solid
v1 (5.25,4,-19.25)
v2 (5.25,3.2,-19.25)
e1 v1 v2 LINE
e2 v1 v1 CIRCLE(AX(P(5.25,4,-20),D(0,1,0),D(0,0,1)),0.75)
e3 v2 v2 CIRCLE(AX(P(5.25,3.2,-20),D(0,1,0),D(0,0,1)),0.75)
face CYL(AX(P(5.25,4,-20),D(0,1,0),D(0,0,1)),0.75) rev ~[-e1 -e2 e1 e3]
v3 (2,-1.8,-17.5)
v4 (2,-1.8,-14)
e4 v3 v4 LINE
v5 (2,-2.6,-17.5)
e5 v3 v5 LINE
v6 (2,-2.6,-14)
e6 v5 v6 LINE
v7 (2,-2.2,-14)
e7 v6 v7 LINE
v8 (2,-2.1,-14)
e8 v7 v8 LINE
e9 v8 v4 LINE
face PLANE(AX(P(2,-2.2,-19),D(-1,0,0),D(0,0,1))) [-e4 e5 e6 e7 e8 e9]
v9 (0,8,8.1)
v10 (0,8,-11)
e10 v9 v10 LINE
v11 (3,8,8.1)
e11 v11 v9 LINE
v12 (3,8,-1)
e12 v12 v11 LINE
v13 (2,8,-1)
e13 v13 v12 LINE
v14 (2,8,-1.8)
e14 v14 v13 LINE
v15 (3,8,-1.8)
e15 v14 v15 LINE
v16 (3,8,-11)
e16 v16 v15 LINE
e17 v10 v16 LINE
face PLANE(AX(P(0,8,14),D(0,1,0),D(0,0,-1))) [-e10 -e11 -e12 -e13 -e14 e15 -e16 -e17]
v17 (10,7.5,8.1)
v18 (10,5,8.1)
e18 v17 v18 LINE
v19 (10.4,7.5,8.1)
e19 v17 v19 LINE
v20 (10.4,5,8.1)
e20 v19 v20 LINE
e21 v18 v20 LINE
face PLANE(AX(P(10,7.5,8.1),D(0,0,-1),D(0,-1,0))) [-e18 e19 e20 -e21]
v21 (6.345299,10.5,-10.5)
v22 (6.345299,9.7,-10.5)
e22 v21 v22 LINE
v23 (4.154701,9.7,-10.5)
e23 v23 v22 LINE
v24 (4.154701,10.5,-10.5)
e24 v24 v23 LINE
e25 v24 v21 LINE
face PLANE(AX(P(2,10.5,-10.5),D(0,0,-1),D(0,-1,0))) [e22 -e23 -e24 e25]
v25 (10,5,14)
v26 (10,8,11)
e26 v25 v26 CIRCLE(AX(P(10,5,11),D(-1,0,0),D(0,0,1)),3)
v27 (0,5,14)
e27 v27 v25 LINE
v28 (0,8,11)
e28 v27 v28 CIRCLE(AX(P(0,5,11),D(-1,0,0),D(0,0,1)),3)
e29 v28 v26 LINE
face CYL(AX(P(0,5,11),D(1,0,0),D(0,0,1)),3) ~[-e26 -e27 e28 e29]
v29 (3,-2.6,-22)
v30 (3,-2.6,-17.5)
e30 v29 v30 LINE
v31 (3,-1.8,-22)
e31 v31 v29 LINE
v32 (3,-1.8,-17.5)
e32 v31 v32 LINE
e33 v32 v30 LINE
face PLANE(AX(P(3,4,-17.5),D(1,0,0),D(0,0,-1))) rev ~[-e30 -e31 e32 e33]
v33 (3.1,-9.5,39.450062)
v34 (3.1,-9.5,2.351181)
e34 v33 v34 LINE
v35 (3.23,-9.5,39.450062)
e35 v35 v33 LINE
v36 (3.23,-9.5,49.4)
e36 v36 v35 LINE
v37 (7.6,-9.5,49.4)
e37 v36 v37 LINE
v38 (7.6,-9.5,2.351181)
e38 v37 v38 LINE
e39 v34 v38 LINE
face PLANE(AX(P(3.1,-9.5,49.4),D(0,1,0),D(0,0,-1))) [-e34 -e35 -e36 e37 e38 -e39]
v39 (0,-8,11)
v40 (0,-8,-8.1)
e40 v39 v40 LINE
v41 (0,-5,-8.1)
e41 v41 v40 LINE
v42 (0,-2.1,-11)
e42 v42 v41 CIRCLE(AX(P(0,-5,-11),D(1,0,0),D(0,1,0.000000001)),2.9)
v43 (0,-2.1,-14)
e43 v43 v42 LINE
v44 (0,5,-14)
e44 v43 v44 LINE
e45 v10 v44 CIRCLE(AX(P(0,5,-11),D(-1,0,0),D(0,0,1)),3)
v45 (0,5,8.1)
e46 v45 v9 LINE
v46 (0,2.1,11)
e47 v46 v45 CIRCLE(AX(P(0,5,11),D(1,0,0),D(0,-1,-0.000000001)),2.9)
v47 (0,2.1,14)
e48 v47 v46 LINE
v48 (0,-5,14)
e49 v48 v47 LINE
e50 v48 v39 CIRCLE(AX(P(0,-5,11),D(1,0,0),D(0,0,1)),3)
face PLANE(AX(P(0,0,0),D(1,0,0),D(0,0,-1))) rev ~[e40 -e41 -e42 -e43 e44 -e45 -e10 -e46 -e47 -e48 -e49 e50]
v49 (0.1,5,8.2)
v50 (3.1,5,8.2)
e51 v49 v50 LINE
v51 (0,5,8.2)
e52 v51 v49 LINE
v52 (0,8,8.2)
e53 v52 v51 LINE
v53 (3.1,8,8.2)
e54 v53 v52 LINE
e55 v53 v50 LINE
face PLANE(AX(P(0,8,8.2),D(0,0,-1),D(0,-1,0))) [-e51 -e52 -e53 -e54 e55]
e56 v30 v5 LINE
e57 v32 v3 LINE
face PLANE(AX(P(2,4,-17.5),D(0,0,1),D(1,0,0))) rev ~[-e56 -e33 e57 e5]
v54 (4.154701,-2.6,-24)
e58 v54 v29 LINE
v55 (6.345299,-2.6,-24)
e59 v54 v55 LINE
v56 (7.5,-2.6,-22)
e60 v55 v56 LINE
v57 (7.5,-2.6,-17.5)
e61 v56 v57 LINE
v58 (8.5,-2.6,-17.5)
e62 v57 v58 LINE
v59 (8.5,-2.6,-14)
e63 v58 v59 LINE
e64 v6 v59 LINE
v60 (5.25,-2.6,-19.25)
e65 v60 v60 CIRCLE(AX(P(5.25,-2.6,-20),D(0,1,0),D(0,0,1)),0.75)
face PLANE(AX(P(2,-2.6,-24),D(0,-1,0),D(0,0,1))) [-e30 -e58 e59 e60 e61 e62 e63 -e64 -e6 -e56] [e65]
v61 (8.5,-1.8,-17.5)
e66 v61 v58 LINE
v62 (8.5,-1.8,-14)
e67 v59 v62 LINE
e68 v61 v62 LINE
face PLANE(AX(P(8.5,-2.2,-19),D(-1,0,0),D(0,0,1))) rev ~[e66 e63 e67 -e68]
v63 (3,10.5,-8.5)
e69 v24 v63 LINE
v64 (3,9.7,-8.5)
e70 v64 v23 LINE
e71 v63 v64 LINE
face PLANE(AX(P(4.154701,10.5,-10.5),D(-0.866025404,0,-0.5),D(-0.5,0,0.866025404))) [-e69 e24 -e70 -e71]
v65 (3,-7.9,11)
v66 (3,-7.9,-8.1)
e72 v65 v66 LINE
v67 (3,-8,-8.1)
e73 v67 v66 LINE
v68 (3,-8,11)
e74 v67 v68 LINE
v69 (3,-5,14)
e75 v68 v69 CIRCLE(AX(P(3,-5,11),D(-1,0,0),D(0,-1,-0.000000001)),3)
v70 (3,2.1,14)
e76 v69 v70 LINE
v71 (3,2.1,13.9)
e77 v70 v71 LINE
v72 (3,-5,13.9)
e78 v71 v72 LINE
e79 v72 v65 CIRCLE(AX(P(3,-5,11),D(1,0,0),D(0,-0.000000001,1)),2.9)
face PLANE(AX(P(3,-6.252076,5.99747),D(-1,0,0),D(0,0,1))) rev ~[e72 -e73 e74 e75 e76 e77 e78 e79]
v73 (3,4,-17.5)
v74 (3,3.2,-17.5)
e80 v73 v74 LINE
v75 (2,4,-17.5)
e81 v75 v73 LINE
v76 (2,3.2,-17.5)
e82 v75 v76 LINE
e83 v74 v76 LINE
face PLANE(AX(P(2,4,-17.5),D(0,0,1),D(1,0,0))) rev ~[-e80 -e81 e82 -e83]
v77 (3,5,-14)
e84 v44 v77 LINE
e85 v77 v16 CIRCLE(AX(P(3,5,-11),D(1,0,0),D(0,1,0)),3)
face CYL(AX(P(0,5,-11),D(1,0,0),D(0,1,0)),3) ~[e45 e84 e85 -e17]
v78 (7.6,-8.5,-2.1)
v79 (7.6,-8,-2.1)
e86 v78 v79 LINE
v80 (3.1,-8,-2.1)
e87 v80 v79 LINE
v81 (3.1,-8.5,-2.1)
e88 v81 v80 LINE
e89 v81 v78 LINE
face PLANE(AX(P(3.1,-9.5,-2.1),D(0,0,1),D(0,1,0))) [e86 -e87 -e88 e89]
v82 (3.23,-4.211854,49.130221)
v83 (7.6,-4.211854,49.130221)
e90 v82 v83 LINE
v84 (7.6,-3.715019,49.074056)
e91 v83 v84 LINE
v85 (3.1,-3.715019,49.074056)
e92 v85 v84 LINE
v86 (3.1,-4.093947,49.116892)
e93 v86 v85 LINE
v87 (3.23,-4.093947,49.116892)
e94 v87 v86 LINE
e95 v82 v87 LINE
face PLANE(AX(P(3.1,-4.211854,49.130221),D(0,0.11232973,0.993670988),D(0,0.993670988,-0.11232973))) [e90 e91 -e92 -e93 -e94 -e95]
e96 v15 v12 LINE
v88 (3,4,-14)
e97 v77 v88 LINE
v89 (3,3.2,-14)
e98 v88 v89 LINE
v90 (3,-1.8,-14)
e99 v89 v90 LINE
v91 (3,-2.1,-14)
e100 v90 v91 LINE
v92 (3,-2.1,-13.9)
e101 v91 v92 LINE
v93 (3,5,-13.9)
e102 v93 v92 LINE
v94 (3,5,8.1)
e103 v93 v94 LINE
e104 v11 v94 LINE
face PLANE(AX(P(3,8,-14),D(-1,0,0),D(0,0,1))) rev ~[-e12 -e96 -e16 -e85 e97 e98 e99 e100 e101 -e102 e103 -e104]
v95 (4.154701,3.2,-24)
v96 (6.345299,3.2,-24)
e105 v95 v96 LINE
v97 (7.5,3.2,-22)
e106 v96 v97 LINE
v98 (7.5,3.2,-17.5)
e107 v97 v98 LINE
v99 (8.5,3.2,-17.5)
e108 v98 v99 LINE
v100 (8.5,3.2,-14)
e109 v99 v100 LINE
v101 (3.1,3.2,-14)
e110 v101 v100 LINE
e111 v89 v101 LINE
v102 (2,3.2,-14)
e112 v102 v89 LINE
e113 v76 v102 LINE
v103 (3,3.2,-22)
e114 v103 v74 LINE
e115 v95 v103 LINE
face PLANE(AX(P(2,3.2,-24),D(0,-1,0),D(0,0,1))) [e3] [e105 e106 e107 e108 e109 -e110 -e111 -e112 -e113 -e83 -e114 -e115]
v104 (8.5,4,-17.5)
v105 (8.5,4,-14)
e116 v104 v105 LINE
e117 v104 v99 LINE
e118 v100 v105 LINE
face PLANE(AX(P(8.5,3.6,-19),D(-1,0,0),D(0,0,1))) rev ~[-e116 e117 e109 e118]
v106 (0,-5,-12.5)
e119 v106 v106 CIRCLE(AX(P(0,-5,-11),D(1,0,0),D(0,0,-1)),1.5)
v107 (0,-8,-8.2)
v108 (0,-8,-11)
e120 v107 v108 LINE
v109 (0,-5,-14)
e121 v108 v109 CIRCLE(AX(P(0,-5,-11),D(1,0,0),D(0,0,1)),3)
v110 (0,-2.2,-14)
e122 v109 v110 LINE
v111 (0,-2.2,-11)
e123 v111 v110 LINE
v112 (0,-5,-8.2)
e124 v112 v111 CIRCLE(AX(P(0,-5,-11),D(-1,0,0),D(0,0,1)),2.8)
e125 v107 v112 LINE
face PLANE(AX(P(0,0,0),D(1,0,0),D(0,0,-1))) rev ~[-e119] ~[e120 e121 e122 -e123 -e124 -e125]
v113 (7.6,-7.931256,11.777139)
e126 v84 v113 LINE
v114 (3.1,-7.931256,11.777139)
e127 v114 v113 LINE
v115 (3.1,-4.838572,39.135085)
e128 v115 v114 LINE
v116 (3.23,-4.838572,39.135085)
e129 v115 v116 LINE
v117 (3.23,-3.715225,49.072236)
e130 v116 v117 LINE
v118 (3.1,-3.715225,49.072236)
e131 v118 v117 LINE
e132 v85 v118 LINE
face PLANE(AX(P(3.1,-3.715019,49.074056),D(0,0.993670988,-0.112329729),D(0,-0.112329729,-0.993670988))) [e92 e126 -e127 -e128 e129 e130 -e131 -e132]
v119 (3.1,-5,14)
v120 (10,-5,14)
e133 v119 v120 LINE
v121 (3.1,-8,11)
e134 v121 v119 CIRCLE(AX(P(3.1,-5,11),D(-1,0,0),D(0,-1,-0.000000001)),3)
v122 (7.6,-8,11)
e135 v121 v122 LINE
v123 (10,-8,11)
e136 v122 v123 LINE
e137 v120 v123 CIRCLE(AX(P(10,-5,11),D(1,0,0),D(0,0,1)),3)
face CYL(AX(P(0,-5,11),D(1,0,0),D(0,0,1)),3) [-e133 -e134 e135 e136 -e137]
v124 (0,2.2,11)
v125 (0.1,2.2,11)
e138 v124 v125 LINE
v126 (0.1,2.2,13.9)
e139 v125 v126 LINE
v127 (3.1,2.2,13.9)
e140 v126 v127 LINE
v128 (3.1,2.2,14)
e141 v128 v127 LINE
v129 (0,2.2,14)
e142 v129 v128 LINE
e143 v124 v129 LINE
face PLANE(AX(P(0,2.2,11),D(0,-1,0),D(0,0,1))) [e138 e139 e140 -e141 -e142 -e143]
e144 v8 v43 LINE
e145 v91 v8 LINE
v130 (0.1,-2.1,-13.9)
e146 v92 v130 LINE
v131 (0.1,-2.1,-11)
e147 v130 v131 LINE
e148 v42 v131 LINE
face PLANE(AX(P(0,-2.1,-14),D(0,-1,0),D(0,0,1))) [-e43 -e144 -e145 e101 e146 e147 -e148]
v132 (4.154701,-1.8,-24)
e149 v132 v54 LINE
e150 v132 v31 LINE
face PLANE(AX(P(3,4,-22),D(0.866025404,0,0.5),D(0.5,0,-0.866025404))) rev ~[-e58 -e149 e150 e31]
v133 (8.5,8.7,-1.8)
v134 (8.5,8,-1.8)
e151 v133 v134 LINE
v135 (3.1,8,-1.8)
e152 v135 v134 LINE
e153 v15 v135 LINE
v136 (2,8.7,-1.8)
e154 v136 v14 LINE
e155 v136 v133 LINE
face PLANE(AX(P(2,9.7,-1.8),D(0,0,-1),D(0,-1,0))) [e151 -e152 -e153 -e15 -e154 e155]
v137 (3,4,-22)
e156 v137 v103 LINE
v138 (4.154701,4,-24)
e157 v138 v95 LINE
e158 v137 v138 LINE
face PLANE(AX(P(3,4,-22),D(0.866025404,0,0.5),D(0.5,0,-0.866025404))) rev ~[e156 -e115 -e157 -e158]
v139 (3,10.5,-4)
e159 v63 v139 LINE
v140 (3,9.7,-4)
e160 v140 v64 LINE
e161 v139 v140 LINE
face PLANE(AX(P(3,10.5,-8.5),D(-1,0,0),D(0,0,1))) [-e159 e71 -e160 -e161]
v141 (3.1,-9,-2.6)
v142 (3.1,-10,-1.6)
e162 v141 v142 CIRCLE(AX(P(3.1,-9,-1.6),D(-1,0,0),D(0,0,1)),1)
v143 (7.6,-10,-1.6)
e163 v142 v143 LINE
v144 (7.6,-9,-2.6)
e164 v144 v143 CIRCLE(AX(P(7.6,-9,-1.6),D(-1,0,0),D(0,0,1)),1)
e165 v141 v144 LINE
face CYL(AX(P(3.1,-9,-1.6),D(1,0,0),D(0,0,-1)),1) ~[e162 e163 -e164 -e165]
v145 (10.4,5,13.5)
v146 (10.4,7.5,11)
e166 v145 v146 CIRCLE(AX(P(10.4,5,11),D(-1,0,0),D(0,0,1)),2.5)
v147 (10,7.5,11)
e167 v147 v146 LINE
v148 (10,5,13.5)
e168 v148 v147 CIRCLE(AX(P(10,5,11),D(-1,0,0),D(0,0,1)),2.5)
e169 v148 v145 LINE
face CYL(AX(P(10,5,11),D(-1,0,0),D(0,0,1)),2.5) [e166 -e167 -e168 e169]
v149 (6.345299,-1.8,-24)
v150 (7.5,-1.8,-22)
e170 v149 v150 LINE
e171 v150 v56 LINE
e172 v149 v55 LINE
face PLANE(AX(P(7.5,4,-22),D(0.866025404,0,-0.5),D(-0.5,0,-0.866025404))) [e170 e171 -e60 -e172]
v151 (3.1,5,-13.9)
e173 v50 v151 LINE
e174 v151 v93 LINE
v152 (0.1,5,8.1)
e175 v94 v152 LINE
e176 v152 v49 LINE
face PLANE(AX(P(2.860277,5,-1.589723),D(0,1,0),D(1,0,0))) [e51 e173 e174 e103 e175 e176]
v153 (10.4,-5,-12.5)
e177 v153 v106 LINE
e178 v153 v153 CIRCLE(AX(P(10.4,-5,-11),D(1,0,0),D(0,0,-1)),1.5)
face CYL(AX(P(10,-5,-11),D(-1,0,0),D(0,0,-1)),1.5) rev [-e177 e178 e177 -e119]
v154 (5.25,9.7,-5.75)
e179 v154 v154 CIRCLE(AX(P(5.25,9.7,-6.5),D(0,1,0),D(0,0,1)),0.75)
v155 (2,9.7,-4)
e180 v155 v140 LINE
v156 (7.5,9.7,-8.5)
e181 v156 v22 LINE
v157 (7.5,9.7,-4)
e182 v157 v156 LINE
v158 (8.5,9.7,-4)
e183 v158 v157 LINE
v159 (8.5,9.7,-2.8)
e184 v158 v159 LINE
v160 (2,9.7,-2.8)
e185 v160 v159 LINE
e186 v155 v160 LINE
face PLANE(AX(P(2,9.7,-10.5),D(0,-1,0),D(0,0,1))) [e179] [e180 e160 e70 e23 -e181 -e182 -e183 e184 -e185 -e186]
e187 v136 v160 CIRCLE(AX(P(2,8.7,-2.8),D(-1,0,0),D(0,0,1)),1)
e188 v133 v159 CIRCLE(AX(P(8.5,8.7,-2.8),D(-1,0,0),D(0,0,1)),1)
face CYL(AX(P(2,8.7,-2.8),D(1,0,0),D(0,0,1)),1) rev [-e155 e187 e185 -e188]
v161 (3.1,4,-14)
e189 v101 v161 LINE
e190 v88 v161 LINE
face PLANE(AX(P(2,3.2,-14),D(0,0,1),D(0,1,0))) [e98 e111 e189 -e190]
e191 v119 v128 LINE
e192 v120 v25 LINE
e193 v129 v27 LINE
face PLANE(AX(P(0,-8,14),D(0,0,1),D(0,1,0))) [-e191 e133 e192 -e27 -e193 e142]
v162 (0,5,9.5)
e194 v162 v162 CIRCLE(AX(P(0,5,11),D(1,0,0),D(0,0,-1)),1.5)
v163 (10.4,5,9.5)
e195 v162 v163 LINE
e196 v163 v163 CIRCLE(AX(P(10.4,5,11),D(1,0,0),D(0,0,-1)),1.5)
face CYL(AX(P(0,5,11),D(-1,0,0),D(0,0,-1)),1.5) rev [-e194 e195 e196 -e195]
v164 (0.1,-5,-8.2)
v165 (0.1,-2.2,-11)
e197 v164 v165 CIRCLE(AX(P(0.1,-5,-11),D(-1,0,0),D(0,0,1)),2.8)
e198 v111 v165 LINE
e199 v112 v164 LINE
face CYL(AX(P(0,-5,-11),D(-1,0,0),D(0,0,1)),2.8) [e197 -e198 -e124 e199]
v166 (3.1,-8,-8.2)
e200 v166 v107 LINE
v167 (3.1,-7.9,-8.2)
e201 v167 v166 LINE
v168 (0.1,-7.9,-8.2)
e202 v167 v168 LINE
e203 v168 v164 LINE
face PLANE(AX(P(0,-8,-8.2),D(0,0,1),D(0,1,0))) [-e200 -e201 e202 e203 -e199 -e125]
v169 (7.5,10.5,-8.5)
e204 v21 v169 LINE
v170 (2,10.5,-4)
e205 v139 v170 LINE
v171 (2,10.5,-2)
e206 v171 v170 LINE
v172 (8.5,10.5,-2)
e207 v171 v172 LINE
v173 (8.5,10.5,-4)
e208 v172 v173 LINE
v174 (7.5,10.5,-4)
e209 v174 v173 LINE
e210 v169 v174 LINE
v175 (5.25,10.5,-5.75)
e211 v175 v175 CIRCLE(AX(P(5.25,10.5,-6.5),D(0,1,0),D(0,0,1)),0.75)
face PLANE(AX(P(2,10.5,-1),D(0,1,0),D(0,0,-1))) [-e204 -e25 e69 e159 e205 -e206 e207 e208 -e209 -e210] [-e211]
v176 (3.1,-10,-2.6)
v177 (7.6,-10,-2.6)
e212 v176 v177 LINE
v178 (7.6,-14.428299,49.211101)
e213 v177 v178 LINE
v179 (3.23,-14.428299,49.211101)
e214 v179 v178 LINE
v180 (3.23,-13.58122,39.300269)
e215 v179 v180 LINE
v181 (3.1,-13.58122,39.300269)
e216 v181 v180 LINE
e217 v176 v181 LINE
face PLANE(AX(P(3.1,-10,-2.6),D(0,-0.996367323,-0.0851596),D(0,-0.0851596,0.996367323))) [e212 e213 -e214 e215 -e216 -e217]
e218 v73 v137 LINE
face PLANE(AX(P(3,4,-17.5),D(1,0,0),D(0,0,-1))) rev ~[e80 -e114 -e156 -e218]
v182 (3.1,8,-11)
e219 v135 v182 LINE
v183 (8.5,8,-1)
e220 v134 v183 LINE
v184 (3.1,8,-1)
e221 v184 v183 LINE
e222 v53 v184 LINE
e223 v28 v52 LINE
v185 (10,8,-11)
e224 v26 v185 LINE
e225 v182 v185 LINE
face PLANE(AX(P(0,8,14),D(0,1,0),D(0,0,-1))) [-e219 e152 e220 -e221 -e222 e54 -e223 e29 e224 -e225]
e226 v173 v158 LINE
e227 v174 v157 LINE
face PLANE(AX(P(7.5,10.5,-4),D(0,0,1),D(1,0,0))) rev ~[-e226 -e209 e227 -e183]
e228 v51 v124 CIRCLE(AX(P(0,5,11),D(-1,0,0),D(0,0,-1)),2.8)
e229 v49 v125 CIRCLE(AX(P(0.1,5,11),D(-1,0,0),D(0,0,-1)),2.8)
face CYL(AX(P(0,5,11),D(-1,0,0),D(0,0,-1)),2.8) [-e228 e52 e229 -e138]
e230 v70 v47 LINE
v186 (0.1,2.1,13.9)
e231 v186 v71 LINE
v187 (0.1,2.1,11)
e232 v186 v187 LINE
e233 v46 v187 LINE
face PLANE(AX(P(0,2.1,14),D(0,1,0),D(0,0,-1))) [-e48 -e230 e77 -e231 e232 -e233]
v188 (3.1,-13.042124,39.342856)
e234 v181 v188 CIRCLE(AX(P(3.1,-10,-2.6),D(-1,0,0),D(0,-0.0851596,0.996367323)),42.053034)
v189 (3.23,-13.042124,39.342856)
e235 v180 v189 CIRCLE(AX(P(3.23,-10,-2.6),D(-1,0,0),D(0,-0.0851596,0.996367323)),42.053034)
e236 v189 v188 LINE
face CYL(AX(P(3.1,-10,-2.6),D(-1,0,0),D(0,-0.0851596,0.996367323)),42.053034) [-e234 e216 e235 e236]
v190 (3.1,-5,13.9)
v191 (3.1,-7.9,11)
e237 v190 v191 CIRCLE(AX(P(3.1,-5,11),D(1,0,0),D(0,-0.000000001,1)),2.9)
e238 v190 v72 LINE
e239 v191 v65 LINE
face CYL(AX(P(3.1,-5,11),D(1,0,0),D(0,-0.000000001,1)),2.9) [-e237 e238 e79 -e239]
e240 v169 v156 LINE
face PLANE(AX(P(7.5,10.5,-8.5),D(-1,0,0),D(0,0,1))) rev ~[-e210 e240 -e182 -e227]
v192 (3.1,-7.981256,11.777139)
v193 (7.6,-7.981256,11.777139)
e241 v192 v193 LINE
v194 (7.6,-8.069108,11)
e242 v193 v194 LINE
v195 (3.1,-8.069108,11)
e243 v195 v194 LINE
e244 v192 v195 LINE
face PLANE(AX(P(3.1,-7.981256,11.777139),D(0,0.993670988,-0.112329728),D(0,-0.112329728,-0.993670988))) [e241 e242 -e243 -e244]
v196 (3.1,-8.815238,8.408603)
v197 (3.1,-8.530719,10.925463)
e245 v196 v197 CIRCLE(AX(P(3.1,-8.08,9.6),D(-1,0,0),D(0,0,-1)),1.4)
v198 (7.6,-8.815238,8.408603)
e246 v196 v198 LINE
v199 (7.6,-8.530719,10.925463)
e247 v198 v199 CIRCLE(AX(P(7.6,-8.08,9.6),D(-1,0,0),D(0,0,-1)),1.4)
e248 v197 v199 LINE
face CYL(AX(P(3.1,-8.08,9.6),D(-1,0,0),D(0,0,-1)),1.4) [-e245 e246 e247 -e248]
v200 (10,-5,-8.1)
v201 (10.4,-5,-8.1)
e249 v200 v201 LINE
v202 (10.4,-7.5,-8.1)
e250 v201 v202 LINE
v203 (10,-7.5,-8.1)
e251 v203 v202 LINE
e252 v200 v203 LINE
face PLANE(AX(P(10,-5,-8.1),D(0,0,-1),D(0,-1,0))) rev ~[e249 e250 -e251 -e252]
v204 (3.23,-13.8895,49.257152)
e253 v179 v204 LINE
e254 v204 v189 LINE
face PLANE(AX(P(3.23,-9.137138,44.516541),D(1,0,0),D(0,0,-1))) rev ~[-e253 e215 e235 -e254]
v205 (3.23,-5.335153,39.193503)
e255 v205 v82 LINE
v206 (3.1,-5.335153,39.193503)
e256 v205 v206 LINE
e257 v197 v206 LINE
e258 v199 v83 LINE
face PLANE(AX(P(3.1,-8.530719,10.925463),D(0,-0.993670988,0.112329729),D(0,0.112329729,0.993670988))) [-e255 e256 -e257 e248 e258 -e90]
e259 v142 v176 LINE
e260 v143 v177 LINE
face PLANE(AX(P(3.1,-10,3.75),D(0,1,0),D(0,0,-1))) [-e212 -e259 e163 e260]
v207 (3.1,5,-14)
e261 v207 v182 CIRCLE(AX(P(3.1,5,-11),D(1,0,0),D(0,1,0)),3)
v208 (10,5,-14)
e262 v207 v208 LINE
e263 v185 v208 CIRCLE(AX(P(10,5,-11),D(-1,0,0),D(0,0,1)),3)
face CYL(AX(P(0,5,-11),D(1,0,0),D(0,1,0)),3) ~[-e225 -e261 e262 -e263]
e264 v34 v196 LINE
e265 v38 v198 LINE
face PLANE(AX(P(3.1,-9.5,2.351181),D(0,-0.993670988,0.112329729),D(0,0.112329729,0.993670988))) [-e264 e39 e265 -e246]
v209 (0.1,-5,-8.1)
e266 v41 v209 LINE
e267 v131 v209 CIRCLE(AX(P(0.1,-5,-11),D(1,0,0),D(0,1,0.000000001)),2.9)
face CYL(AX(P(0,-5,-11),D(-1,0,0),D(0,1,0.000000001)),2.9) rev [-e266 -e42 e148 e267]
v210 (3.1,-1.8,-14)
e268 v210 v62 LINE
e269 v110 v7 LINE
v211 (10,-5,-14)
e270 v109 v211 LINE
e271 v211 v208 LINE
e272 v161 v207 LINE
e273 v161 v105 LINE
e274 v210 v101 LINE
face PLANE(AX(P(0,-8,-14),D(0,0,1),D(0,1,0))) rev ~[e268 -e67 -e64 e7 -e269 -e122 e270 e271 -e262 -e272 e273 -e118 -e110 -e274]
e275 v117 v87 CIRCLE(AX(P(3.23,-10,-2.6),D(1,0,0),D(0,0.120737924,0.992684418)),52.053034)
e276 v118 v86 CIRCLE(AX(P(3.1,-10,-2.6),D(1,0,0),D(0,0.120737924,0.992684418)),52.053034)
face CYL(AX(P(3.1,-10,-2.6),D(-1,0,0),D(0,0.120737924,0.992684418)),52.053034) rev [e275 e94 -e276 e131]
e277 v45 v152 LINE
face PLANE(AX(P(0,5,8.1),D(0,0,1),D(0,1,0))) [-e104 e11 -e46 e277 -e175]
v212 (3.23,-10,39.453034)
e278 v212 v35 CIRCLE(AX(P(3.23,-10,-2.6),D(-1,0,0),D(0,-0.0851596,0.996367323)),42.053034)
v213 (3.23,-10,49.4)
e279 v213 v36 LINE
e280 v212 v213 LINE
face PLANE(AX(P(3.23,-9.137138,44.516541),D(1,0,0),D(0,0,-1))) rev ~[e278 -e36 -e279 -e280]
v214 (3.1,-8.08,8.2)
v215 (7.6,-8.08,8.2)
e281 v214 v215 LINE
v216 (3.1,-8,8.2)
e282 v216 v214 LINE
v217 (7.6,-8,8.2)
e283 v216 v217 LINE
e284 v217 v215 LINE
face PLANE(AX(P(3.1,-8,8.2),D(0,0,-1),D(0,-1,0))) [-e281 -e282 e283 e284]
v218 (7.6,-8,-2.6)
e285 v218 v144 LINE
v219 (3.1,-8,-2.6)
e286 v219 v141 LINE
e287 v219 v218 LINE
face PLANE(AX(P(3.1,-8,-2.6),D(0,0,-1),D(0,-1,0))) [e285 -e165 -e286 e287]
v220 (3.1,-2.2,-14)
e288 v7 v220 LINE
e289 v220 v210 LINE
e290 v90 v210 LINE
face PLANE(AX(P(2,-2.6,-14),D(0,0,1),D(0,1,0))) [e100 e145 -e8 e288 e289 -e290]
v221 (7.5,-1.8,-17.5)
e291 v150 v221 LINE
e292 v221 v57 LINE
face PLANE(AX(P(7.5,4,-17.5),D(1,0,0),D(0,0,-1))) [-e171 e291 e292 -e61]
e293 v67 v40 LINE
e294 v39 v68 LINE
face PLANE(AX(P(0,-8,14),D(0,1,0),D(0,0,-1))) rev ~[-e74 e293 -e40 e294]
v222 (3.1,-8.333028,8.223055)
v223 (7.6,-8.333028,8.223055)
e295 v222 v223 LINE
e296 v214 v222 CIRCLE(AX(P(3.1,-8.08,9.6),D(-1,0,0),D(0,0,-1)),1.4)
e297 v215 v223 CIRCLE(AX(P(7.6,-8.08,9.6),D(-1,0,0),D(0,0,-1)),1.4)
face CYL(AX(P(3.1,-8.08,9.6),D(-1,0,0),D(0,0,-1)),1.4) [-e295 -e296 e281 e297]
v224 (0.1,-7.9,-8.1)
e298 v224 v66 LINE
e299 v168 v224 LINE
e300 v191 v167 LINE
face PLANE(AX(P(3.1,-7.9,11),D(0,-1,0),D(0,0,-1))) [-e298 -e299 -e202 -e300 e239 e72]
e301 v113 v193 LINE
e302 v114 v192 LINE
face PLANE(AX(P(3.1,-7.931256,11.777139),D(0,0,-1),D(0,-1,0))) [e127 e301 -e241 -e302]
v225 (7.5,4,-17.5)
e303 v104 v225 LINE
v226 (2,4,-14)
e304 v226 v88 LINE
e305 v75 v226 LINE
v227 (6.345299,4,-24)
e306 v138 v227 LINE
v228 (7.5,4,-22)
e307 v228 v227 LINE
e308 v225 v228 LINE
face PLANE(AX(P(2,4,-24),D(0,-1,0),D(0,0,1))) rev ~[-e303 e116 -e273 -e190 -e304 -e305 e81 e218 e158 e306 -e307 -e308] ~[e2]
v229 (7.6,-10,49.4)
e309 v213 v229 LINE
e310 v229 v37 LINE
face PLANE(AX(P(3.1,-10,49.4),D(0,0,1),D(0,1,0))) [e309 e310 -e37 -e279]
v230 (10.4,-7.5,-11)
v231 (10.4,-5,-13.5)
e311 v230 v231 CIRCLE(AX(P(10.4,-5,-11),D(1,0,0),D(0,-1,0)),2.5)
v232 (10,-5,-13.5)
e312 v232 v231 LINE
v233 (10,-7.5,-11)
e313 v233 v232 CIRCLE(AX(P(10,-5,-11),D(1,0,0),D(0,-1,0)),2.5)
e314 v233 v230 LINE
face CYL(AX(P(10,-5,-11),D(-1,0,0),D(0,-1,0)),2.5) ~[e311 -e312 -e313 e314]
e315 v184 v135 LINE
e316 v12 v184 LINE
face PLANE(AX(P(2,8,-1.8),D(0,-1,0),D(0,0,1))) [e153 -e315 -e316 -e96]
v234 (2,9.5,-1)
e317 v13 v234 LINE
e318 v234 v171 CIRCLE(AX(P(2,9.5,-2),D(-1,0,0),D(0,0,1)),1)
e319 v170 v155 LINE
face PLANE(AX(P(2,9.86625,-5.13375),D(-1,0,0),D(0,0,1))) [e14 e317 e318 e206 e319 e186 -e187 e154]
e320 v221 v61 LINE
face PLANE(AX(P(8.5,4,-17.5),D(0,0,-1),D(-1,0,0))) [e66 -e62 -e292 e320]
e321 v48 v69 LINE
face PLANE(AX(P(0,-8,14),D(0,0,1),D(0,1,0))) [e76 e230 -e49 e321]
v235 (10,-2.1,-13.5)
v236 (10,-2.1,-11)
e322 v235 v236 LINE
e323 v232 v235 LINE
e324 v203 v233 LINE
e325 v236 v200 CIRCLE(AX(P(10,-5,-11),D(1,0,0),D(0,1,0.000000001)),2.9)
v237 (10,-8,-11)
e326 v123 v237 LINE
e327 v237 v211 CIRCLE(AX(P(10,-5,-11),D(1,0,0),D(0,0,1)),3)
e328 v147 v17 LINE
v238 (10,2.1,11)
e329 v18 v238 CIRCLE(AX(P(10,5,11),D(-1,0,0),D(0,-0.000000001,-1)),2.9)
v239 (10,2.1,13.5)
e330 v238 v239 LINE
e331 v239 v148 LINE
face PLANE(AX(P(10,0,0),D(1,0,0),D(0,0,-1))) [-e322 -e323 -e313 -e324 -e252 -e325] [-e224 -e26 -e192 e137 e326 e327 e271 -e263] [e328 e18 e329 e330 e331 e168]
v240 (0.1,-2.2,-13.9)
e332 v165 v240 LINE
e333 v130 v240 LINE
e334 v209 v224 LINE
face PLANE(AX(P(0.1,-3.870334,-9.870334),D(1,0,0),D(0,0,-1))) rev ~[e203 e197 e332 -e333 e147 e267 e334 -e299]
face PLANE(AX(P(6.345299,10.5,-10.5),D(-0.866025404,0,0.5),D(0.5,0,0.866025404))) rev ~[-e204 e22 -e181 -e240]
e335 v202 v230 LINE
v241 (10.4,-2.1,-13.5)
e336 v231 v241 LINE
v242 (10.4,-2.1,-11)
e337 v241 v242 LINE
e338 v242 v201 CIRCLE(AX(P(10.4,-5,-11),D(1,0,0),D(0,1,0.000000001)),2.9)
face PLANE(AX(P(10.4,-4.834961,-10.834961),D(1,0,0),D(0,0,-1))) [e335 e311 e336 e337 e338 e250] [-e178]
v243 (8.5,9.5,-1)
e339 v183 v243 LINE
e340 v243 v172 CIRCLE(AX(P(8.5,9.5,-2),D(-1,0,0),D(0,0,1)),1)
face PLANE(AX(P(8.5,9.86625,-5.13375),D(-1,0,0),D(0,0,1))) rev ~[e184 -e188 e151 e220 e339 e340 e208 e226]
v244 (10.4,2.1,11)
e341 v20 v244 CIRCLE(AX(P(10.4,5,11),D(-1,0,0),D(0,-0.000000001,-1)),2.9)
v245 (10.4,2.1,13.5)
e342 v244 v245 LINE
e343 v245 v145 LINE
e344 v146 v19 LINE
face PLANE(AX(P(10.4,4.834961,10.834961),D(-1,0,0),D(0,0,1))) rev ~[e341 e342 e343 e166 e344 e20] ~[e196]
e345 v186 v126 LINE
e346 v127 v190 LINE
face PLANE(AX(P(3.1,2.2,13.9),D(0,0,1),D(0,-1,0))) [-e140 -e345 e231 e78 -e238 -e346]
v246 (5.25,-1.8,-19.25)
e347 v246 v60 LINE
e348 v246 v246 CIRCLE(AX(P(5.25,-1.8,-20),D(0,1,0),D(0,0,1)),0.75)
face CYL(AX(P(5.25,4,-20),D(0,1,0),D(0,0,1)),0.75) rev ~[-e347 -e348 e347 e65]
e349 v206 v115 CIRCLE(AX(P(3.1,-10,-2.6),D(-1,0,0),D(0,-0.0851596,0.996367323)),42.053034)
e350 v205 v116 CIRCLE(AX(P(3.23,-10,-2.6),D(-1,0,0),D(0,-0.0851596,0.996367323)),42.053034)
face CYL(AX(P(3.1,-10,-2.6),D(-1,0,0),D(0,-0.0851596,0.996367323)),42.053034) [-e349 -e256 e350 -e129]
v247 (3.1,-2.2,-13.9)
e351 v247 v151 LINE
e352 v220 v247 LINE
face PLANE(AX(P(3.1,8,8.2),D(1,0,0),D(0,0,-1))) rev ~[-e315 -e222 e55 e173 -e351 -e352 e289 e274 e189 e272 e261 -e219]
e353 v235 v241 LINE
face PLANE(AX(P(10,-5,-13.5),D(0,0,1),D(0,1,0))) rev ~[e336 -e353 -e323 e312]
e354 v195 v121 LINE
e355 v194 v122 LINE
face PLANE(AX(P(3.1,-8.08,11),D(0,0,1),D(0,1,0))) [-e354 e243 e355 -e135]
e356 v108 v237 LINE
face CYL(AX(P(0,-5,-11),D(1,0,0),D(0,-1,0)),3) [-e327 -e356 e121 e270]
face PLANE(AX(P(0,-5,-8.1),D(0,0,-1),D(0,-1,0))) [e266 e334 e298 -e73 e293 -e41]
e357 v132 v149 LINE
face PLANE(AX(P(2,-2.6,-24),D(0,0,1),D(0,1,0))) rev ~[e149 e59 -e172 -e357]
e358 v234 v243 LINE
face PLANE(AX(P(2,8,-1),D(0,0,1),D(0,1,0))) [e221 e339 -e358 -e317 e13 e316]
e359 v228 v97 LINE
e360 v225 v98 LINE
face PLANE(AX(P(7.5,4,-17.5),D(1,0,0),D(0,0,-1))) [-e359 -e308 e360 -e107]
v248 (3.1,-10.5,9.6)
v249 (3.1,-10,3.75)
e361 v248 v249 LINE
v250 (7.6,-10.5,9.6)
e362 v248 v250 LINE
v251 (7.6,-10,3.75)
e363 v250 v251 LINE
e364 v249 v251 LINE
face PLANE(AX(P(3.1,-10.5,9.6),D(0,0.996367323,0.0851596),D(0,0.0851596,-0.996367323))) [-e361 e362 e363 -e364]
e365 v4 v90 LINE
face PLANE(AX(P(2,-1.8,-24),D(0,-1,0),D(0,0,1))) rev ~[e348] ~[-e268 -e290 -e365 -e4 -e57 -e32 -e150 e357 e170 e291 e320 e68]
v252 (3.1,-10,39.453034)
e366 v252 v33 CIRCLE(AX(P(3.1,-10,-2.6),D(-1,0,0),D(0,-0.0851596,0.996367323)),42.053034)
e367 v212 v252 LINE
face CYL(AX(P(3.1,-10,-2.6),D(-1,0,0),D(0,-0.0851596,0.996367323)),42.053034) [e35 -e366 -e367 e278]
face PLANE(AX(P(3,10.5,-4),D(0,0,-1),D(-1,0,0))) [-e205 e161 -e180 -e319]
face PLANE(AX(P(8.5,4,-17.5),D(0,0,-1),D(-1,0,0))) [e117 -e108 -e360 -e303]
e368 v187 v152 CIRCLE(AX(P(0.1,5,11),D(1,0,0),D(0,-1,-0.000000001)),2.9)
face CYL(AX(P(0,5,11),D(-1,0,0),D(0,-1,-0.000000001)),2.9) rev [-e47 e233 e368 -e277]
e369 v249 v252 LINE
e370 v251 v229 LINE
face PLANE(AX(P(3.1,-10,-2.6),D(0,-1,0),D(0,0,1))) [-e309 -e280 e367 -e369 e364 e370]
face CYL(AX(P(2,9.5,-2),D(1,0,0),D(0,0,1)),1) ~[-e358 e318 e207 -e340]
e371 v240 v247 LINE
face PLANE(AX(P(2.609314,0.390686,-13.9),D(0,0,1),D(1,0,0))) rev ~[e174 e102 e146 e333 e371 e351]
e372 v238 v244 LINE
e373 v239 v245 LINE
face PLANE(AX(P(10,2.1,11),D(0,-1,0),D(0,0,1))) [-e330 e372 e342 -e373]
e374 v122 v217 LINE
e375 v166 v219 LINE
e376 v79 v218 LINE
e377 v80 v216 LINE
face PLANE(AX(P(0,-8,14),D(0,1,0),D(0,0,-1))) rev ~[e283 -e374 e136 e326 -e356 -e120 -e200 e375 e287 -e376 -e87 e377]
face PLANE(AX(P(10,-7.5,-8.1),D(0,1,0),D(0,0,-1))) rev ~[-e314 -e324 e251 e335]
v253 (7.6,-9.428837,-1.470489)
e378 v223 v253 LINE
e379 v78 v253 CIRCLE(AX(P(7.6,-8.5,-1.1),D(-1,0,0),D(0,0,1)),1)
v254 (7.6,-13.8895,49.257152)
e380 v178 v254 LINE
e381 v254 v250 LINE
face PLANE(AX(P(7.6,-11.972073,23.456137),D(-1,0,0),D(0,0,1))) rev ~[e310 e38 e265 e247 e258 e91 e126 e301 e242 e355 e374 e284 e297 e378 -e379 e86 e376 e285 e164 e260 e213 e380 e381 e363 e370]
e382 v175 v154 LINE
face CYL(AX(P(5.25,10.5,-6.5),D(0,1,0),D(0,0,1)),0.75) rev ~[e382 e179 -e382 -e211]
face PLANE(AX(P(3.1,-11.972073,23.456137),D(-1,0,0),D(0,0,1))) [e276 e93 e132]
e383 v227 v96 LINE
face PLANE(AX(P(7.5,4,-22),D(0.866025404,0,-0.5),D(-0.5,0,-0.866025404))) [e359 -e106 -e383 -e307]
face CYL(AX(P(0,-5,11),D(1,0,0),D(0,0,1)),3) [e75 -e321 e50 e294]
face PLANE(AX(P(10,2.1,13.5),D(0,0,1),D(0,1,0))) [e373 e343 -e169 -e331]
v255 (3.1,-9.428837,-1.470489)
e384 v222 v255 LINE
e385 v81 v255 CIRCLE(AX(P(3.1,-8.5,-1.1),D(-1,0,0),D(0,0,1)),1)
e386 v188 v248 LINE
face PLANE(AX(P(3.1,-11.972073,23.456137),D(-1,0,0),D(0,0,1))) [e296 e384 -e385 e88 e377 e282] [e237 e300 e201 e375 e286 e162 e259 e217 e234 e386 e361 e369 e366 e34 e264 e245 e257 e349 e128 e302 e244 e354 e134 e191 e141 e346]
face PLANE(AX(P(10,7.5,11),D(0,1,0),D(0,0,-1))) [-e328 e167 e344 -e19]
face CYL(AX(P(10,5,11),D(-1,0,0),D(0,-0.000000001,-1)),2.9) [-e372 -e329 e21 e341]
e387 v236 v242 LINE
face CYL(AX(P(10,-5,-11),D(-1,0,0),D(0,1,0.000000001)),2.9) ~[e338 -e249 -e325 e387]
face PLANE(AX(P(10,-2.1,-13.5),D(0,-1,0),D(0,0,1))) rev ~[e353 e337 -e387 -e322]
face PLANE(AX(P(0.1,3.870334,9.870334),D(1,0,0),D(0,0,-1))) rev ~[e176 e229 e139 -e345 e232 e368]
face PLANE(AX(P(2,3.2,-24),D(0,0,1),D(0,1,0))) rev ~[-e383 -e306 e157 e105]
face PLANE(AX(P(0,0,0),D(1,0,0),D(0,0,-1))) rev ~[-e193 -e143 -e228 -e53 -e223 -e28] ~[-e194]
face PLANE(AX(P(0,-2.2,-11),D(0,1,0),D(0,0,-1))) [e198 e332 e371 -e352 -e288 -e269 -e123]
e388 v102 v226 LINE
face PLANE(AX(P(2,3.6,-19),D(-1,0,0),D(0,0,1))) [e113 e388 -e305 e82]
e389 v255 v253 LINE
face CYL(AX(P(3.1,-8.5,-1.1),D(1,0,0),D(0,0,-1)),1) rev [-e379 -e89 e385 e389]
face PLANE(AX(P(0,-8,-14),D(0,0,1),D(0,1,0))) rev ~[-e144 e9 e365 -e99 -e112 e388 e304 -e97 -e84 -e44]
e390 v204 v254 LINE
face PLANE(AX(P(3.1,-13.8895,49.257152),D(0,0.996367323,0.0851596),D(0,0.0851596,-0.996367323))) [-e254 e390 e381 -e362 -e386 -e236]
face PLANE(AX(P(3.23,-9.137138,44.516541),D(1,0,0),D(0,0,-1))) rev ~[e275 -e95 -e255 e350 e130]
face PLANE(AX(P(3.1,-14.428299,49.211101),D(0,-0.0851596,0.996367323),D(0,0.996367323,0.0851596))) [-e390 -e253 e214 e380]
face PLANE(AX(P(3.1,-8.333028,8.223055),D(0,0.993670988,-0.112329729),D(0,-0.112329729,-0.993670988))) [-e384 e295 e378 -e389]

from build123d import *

# Parameters (mm, degrees)
SKETCH_1_W          = 28
SKETCH_1_H          = 16
SKETCH_1_R          = 1.5
EXTRUDE_1_DEPTH     = 10
FILLET_1_R          = 3
SKETCH_2_R          = 1.5
EXTRUDE_2_DEPTH     = 0.4
CUT_EXTRUDE_1_DEPTH = 0.1
CUT_EXTRUDE_2_DEPTH = 3
CUT_EXTRUDE_3_DEPTH = 0.1
CUT_EXTRUDE_4_DEPTH = 0.1
SKETCH_7_W          = 2.9
SKETCH_7_H          = 0.1
CUT_EXTRUDE_5_DEPTH = 0.1
SKETCH_8_W          = 2.9
SKETCH_8_H          = 0.1
CUT_EXTRUDE_6_DEPTH = 0.1
EXTRUDE_3_DEPTH     = 4.5
SKETCH_11_W         = 10
SKETCH_11_H         = 0.8
EXTRUDE_4_DEPTH     = 6.5
SKETCH_12_R         = 0.75
CUT_EXTRUDE_7_DEPTH = 53.388166603
FILLET_2_R          = 1
SKETCH_13_R         = 0.75
CUT_EXTRUDE_8_DEPTH = 2
EXTRUDE_6_DEPTH     = 4.5
EXTRUDE_7_DEPTH     = 4.5
CUT_EXTRUDE_9_DEPTH = 0.13


with BuildPart() as part:
    # 草图1 → 凸台-拉伸1 (new body)
    with BuildSketch(Plane(origin=(0, 0, 0), x_dir=(0, 0, -1), z_dir=(1, 0, 0))):
        Rectangle(SKETCH_1_W, SKETCH_1_H)
        with Locations((11, -5)):
            Circle(SKETCH_1_R, mode=Mode.SUBTRACT)
        with Locations((-11, 5)):
            Circle(SKETCH_1_R, mode=Mode.SUBTRACT)
    extrude(amount=EXTRUDE_1_DEPTH)

    # 圆角1
    fillet_1_edges = [part.edges().sort_by_distance(p)[0] for p in [
        (5, 8, 14),
        (5, 8, -14),
        (5, -8, -14),
        (5, -8, 14),
    ]]
    fillet(fillet_1_edges, radius=FILLET_1_R)

    # 草图2 → 凸台-拉伸2 (add)
    # profile 1 of 2: a face of its own
    with BuildSketch(Plane(origin=(10, 0, 0), x_dir=(0, 0, -1), z_dir=(1, 0, 0))):
        with BuildLine():
            Line((13.5, -5), (13.5, -2.1))
            Line((13.5, -2.1), (11, -2.1))
            ThreePointArc((11, -2.1), (8.949390335, -2.949390335), (8.1, -5))
            Line((8.1, -5), (8.1, -7.5))
            Line((8.1, -7.5), (11, -7.5))
            ThreePointArc((11, -7.5), (12.767766953, -6.767766953), (13.5, -5))
        make_face()
        with Locations((11, -5)):
            Circle(SKETCH_2_R, mode=Mode.SUBTRACT)
    # profile 2 of 2: a face of its own
    with BuildSketch(Plane(origin=(10, 0, 0), x_dir=(0, 0, -1), z_dir=(1, 0, 0))):
        with BuildLine():
            Line((-11, 2.1), (-13.5, 2.1))
            Line((-13.5, 2.1), (-13.5, 5))
            ThreePointArc((-13.5, 5), (-12.767766953, 6.767766953), (-11, 7.5))
            Line((-11, 7.5), (-8.1, 7.5))
            Line((-8.1, 7.5), (-8.1, 5))
            ThreePointArc((-8.1, 5), (-8.949390335, 2.949390335), (-11, 2.1))
        make_face()
        with Locations((-11, 5)):
            Circle(SKETCH_2_R, mode=Mode.SUBTRACT)
    extrude(amount=EXTRUDE_2_DEPTH)

    # 草图3 → 切除-拉伸1 (cut)
    with BuildSketch(Plane.ZY):
        with BuildLine():
            Line((-13.5, -2.1), (-11, -2.1))
            ThreePointArc((-11, -2.1), (-8.949390335, -2.949390335), (-8.1, -5))
            Line((-8.1, -5), (-8.1, -7.5))
            Line((-8.1, -7.5), (-8.1, -8))
            Line((-8.1, -8), (-8.2, -8))
            Line((-8.2, -8), (-8.2, -7.5))
            Line((-8.2, -7.5), (-8.2, -5))
            ThreePointArc((-8.2, -5), (-9.020101013, -3.020101013), (-11, -2.2))
            Line((-11, -2.2), (-13.5, -2.2))
            Line((-13.5, -2.2), (-14, -2.2))
            Line((-14, -2.2), (-14, -2.1))
            Line((-14, -2.1), (-13.5, -2.1))
        make_face()
        with BuildLine():
            Line((13.5, 2.1), (11, 2.1))
            ThreePointArc((11, 2.1), (8.949390335, 2.949390335), (8.1, 5))
            Line((8.1, 5), (8.1, 7.5))
            Line((8.1, 7.5), (8.1, 8))
            Line((8.1, 8), (8.2, 8))
            Line((8.2, 8), (8.2, 7.5))
            Line((8.2, 7.5), (8.2, 5))
            ThreePointArc((8.2, 5), (9.020101013, 3.020101013), (11, 2.2))
            Line((11, 2.2), (13.5, 2.2))
            Line((13.5, 2.2), (14, 2.2))
            Line((14, 2.2), (14, 2.1))
            Line((14, 2.1), (13.5, 2.1))
        make_face()
    extrude(amount=-CUT_EXTRUDE_1_DEPTH, mode=Mode.SUBTRACT)

    # 草图4 → 切除-拉伸2 (cut)
    with BuildSketch(Plane(origin=(0, 8, 0), x_dir=(1, 0, 0), z_dir=(0, 1, 0))):
        Polygon((0, -8.2), (3.1, -8.2), (3.1, 14), (3, 14), (3, -8.1), (0, -8.1), align=None)
    extrude(amount=-CUT_EXTRUDE_2_DEPTH, mode=Mode.SUBTRACT)

    # 草图5 → 切除-拉伸3 (cut)
    with BuildSketch(Plane(origin=(0, 0, -14), x_dir=(-1, 0, 0), z_dir=(0, 0, -1))):
        Polygon((-3, 5), (-3, -2.1), (-0.1, -2.1), (-0.1, -2.2), (-3.1, -2.2), (-3.1, 5), align=None)
    extrude(amount=-CUT_EXTRUDE_3_DEPTH, mode=Mode.SUBTRACT)

    # 草图6 → 切除-拉伸4 (cut)
    with BuildSketch(Plane.ZY.offset(-3.1)):
        with BuildLine():
            Line((-8.2, -8), (11, -8))
            ThreePointArc((11, -8), (13.121320344, -7.121320344), (14, -5))
            Line((14, -5), (14, 2.1))
            Line((14, 2.1), (14, 2.2))
            Line((14, 2.2), (13.9, 2.2))
            Line((13.9, 2.2), (13.9, 2.1))
            Line((13.9, 2.1), (13.9, -5))
            ThreePointArc((13.9, -5), (13.050609665, -7.050609665), (11, -7.9))
            Line((11, -7.9), (-8.2, -7.9))
            Line((-8.2, -7.9), (-8.2, -8))
        make_face()
    extrude(amount=CUT_EXTRUDE_4_DEPTH, mode=Mode.SUBTRACT)

    # 草图7 → 切除-拉伸5 (cut)
    with BuildSketch(Plane.XY.offset(14)):
        with Locations((1.55, 2.15)):
            Rectangle(SKETCH_7_W, SKETCH_7_H)
    extrude(amount=-CUT_EXTRUDE_5_DEPTH, mode=Mode.SUBTRACT)

    # 草图8 → 切除-拉伸6 (cut)
    with BuildSketch(Plane.XZ.offset(8)):
        with Locations((1.55, -8.15)):
            Rectangle(SKETCH_8_W, SKETCH_8_H)
    extrude(amount=-CUT_EXTRUDE_6_DEPTH, mode=Mode.SUBTRACT)

    # 草图10 → 凸台-拉伸3 (add)
    with BuildSketch(Plane.ZY.offset(-3.1)):
        Polygon((-2.6, -8), (-2.6, -10), (49.4, -10), (49.4, -9.5), (-2.1, -9.5), (-2.1, -8), align=None)
        with BuildLine():
            Line((11, -8.08), (11, -8))
            Line((11, -8), (8.2, -8))
            Line((8.2, -8), (8.2, -8.08))
            ThreePointArc((8.2, -8.08), (9.6, -9.48), (11, -8.08))
        make_face()
    extrude(amount=-EXTRUDE_3_DEPTH)

    # 草图11 → 凸台-拉伸4 (add)
    with BuildSketch(Plane.ZY.offset(-2)):
        with Locations((-19, 3.6)):
            Rectangle(SKETCH_11_W, SKETCH_11_H)
        with Locations((-19, -2.2)):
            Rectangle(SKETCH_11_W, SKETCH_11_H)
        Polygon((-1, 8), (-1, 10.5), (-10.5, 10.5), (-10.5, 9.7), (-1.8, 9.7), (-1.8, 8), align=None)
    extrude(amount=-EXTRUDE_4_DEPTH)

    # 草图12 → 切除-拉伸7 (cut, through all)
    with BuildSketch(Plane(origin=(0, 4, 0), x_dir=(1, 0, 0), z_dir=(0, 1, 0))):
        with Locations(Location((5.25, 20, 0), (0, 0, 270))):
            Circle(SKETCH_12_R)
        Polygon((2, 17.5), (3, 17.5), (3, 22), (4.154700538, 24), (3, 24), (2, 24), align=None)
        Polygon((8.5, 24), (8.5, 17.5), (7.5, 17.5), (7.5, 22), (6.345299462, 24), (7.5, 24), align=None)
    extrude(amount=-CUT_EXTRUDE_7_DEPTH, mode=Mode.SUBTRACT)

    # 圆角2
    fillet_2_edges = [part.edges().sort_by_distance(p)[0] for p in [
        (5.35, -10, -2.6),
        (5.35, -9.5, -2.1),
        (5.25, 9.7, -1.8),
        (5.25, 10.5, -1),
    ]]
    fillet(fillet_2_edges, radius=FILLET_2_R)

    # 草图13 → 切除-拉伸8 (cut)
    with BuildSketch(Plane(origin=(0, 10.5, 0), x_dir=(1, 0, 0), z_dir=(0, 1, 0))):
        with Locations(Location((5.25, 6.5, 0), (0, 0, 270))):
            Circle(SKETCH_13_R)
        Polygon((8.5, 10.5), (6.345299462, 10.5), (7.5, 8.5), (7.5, 4), (8.5, 4), align=None)
        Polygon((3, 4), (2, 4), (2, 10.5), (4.154700538, 10.5), (3, 8.5), align=None)
    extrude(amount=-CUT_EXTRUDE_8_DEPTH, mode=Mode.SUBTRACT)

    # 草图10<5> → 凸台-拉伸6 (add)
    with BuildSketch(Plane.ZY.offset(-3.1)):
        with BuildLine():
            Line((8.223055296, -8.333028221), (-2.1, -9.5))
            Line((-2.1, -9.5), (2.351181411, -9.5))
            Line((2.351181411, -9.5), (8.408603451, -8.815237556))
            ThreePointArc((8.408603451, -8.815237556), (8.293391543, -8.582766687), (8.223055296, -8.333028221))
        make_face()
        with BuildLine():
            ThreePointArc((11, -8.08), (10.981240109, -8.308420142), (10.925463198, -8.53071866))
            Line((10.925463198, -8.53071866), (49.130220738, -4.211854469))
            Line((49.130220738, -4.211854469), (49.074055873, -3.715018975))
            Line((49.074055873, -3.715018975), (11.77713938, -7.9312561))
            Line((11.77713938, -7.9312561), (11.77713938, -7.9812561))
            Line((11.77713938, -7.9812561), (11, -8.069107971))
            Line((11, -8.069107971), (11, -8.08))
        make_face()
    extrude(amount=-EXTRUDE_6_DEPTH)

    # 草图10<6> → 凸台-拉伸7 (add)
    with BuildSketch(Plane.ZY.offset(-3.1)):
        Polygon((3.75, -10), (-2.6, -10), (49.2111008, -14.428299214), (49.257152, -13.889500171), (9.6, -10.5), align=None)
    extrude(amount=-EXTRUDE_7_DEPTH)

    # 草图14 → 切除-拉伸9 (cut)
    with BuildSketch(Plane.ZY.offset(-3.1)):
        with BuildLine():
            Line((39.135085265, -4.838571826), (49.072235928, -3.715224711))
            ThreePointArc((49.072235928, -3.715224711), (49.444709047, -9.069072224), (49.263942313, -14.432815582))
            Line((49.263942313, -14.432815582), (39.300269083, -13.58121958))
            ThreePointArc((39.300269083, -13.58121958), (39.445530044, -9.205590645), (39.135085265, -4.838571826))
        make_face()
    extrude(amount=-CUT_EXTRUDE_9_DEPTH, mode=Mode.SUBTRACT)


solid = part.part
